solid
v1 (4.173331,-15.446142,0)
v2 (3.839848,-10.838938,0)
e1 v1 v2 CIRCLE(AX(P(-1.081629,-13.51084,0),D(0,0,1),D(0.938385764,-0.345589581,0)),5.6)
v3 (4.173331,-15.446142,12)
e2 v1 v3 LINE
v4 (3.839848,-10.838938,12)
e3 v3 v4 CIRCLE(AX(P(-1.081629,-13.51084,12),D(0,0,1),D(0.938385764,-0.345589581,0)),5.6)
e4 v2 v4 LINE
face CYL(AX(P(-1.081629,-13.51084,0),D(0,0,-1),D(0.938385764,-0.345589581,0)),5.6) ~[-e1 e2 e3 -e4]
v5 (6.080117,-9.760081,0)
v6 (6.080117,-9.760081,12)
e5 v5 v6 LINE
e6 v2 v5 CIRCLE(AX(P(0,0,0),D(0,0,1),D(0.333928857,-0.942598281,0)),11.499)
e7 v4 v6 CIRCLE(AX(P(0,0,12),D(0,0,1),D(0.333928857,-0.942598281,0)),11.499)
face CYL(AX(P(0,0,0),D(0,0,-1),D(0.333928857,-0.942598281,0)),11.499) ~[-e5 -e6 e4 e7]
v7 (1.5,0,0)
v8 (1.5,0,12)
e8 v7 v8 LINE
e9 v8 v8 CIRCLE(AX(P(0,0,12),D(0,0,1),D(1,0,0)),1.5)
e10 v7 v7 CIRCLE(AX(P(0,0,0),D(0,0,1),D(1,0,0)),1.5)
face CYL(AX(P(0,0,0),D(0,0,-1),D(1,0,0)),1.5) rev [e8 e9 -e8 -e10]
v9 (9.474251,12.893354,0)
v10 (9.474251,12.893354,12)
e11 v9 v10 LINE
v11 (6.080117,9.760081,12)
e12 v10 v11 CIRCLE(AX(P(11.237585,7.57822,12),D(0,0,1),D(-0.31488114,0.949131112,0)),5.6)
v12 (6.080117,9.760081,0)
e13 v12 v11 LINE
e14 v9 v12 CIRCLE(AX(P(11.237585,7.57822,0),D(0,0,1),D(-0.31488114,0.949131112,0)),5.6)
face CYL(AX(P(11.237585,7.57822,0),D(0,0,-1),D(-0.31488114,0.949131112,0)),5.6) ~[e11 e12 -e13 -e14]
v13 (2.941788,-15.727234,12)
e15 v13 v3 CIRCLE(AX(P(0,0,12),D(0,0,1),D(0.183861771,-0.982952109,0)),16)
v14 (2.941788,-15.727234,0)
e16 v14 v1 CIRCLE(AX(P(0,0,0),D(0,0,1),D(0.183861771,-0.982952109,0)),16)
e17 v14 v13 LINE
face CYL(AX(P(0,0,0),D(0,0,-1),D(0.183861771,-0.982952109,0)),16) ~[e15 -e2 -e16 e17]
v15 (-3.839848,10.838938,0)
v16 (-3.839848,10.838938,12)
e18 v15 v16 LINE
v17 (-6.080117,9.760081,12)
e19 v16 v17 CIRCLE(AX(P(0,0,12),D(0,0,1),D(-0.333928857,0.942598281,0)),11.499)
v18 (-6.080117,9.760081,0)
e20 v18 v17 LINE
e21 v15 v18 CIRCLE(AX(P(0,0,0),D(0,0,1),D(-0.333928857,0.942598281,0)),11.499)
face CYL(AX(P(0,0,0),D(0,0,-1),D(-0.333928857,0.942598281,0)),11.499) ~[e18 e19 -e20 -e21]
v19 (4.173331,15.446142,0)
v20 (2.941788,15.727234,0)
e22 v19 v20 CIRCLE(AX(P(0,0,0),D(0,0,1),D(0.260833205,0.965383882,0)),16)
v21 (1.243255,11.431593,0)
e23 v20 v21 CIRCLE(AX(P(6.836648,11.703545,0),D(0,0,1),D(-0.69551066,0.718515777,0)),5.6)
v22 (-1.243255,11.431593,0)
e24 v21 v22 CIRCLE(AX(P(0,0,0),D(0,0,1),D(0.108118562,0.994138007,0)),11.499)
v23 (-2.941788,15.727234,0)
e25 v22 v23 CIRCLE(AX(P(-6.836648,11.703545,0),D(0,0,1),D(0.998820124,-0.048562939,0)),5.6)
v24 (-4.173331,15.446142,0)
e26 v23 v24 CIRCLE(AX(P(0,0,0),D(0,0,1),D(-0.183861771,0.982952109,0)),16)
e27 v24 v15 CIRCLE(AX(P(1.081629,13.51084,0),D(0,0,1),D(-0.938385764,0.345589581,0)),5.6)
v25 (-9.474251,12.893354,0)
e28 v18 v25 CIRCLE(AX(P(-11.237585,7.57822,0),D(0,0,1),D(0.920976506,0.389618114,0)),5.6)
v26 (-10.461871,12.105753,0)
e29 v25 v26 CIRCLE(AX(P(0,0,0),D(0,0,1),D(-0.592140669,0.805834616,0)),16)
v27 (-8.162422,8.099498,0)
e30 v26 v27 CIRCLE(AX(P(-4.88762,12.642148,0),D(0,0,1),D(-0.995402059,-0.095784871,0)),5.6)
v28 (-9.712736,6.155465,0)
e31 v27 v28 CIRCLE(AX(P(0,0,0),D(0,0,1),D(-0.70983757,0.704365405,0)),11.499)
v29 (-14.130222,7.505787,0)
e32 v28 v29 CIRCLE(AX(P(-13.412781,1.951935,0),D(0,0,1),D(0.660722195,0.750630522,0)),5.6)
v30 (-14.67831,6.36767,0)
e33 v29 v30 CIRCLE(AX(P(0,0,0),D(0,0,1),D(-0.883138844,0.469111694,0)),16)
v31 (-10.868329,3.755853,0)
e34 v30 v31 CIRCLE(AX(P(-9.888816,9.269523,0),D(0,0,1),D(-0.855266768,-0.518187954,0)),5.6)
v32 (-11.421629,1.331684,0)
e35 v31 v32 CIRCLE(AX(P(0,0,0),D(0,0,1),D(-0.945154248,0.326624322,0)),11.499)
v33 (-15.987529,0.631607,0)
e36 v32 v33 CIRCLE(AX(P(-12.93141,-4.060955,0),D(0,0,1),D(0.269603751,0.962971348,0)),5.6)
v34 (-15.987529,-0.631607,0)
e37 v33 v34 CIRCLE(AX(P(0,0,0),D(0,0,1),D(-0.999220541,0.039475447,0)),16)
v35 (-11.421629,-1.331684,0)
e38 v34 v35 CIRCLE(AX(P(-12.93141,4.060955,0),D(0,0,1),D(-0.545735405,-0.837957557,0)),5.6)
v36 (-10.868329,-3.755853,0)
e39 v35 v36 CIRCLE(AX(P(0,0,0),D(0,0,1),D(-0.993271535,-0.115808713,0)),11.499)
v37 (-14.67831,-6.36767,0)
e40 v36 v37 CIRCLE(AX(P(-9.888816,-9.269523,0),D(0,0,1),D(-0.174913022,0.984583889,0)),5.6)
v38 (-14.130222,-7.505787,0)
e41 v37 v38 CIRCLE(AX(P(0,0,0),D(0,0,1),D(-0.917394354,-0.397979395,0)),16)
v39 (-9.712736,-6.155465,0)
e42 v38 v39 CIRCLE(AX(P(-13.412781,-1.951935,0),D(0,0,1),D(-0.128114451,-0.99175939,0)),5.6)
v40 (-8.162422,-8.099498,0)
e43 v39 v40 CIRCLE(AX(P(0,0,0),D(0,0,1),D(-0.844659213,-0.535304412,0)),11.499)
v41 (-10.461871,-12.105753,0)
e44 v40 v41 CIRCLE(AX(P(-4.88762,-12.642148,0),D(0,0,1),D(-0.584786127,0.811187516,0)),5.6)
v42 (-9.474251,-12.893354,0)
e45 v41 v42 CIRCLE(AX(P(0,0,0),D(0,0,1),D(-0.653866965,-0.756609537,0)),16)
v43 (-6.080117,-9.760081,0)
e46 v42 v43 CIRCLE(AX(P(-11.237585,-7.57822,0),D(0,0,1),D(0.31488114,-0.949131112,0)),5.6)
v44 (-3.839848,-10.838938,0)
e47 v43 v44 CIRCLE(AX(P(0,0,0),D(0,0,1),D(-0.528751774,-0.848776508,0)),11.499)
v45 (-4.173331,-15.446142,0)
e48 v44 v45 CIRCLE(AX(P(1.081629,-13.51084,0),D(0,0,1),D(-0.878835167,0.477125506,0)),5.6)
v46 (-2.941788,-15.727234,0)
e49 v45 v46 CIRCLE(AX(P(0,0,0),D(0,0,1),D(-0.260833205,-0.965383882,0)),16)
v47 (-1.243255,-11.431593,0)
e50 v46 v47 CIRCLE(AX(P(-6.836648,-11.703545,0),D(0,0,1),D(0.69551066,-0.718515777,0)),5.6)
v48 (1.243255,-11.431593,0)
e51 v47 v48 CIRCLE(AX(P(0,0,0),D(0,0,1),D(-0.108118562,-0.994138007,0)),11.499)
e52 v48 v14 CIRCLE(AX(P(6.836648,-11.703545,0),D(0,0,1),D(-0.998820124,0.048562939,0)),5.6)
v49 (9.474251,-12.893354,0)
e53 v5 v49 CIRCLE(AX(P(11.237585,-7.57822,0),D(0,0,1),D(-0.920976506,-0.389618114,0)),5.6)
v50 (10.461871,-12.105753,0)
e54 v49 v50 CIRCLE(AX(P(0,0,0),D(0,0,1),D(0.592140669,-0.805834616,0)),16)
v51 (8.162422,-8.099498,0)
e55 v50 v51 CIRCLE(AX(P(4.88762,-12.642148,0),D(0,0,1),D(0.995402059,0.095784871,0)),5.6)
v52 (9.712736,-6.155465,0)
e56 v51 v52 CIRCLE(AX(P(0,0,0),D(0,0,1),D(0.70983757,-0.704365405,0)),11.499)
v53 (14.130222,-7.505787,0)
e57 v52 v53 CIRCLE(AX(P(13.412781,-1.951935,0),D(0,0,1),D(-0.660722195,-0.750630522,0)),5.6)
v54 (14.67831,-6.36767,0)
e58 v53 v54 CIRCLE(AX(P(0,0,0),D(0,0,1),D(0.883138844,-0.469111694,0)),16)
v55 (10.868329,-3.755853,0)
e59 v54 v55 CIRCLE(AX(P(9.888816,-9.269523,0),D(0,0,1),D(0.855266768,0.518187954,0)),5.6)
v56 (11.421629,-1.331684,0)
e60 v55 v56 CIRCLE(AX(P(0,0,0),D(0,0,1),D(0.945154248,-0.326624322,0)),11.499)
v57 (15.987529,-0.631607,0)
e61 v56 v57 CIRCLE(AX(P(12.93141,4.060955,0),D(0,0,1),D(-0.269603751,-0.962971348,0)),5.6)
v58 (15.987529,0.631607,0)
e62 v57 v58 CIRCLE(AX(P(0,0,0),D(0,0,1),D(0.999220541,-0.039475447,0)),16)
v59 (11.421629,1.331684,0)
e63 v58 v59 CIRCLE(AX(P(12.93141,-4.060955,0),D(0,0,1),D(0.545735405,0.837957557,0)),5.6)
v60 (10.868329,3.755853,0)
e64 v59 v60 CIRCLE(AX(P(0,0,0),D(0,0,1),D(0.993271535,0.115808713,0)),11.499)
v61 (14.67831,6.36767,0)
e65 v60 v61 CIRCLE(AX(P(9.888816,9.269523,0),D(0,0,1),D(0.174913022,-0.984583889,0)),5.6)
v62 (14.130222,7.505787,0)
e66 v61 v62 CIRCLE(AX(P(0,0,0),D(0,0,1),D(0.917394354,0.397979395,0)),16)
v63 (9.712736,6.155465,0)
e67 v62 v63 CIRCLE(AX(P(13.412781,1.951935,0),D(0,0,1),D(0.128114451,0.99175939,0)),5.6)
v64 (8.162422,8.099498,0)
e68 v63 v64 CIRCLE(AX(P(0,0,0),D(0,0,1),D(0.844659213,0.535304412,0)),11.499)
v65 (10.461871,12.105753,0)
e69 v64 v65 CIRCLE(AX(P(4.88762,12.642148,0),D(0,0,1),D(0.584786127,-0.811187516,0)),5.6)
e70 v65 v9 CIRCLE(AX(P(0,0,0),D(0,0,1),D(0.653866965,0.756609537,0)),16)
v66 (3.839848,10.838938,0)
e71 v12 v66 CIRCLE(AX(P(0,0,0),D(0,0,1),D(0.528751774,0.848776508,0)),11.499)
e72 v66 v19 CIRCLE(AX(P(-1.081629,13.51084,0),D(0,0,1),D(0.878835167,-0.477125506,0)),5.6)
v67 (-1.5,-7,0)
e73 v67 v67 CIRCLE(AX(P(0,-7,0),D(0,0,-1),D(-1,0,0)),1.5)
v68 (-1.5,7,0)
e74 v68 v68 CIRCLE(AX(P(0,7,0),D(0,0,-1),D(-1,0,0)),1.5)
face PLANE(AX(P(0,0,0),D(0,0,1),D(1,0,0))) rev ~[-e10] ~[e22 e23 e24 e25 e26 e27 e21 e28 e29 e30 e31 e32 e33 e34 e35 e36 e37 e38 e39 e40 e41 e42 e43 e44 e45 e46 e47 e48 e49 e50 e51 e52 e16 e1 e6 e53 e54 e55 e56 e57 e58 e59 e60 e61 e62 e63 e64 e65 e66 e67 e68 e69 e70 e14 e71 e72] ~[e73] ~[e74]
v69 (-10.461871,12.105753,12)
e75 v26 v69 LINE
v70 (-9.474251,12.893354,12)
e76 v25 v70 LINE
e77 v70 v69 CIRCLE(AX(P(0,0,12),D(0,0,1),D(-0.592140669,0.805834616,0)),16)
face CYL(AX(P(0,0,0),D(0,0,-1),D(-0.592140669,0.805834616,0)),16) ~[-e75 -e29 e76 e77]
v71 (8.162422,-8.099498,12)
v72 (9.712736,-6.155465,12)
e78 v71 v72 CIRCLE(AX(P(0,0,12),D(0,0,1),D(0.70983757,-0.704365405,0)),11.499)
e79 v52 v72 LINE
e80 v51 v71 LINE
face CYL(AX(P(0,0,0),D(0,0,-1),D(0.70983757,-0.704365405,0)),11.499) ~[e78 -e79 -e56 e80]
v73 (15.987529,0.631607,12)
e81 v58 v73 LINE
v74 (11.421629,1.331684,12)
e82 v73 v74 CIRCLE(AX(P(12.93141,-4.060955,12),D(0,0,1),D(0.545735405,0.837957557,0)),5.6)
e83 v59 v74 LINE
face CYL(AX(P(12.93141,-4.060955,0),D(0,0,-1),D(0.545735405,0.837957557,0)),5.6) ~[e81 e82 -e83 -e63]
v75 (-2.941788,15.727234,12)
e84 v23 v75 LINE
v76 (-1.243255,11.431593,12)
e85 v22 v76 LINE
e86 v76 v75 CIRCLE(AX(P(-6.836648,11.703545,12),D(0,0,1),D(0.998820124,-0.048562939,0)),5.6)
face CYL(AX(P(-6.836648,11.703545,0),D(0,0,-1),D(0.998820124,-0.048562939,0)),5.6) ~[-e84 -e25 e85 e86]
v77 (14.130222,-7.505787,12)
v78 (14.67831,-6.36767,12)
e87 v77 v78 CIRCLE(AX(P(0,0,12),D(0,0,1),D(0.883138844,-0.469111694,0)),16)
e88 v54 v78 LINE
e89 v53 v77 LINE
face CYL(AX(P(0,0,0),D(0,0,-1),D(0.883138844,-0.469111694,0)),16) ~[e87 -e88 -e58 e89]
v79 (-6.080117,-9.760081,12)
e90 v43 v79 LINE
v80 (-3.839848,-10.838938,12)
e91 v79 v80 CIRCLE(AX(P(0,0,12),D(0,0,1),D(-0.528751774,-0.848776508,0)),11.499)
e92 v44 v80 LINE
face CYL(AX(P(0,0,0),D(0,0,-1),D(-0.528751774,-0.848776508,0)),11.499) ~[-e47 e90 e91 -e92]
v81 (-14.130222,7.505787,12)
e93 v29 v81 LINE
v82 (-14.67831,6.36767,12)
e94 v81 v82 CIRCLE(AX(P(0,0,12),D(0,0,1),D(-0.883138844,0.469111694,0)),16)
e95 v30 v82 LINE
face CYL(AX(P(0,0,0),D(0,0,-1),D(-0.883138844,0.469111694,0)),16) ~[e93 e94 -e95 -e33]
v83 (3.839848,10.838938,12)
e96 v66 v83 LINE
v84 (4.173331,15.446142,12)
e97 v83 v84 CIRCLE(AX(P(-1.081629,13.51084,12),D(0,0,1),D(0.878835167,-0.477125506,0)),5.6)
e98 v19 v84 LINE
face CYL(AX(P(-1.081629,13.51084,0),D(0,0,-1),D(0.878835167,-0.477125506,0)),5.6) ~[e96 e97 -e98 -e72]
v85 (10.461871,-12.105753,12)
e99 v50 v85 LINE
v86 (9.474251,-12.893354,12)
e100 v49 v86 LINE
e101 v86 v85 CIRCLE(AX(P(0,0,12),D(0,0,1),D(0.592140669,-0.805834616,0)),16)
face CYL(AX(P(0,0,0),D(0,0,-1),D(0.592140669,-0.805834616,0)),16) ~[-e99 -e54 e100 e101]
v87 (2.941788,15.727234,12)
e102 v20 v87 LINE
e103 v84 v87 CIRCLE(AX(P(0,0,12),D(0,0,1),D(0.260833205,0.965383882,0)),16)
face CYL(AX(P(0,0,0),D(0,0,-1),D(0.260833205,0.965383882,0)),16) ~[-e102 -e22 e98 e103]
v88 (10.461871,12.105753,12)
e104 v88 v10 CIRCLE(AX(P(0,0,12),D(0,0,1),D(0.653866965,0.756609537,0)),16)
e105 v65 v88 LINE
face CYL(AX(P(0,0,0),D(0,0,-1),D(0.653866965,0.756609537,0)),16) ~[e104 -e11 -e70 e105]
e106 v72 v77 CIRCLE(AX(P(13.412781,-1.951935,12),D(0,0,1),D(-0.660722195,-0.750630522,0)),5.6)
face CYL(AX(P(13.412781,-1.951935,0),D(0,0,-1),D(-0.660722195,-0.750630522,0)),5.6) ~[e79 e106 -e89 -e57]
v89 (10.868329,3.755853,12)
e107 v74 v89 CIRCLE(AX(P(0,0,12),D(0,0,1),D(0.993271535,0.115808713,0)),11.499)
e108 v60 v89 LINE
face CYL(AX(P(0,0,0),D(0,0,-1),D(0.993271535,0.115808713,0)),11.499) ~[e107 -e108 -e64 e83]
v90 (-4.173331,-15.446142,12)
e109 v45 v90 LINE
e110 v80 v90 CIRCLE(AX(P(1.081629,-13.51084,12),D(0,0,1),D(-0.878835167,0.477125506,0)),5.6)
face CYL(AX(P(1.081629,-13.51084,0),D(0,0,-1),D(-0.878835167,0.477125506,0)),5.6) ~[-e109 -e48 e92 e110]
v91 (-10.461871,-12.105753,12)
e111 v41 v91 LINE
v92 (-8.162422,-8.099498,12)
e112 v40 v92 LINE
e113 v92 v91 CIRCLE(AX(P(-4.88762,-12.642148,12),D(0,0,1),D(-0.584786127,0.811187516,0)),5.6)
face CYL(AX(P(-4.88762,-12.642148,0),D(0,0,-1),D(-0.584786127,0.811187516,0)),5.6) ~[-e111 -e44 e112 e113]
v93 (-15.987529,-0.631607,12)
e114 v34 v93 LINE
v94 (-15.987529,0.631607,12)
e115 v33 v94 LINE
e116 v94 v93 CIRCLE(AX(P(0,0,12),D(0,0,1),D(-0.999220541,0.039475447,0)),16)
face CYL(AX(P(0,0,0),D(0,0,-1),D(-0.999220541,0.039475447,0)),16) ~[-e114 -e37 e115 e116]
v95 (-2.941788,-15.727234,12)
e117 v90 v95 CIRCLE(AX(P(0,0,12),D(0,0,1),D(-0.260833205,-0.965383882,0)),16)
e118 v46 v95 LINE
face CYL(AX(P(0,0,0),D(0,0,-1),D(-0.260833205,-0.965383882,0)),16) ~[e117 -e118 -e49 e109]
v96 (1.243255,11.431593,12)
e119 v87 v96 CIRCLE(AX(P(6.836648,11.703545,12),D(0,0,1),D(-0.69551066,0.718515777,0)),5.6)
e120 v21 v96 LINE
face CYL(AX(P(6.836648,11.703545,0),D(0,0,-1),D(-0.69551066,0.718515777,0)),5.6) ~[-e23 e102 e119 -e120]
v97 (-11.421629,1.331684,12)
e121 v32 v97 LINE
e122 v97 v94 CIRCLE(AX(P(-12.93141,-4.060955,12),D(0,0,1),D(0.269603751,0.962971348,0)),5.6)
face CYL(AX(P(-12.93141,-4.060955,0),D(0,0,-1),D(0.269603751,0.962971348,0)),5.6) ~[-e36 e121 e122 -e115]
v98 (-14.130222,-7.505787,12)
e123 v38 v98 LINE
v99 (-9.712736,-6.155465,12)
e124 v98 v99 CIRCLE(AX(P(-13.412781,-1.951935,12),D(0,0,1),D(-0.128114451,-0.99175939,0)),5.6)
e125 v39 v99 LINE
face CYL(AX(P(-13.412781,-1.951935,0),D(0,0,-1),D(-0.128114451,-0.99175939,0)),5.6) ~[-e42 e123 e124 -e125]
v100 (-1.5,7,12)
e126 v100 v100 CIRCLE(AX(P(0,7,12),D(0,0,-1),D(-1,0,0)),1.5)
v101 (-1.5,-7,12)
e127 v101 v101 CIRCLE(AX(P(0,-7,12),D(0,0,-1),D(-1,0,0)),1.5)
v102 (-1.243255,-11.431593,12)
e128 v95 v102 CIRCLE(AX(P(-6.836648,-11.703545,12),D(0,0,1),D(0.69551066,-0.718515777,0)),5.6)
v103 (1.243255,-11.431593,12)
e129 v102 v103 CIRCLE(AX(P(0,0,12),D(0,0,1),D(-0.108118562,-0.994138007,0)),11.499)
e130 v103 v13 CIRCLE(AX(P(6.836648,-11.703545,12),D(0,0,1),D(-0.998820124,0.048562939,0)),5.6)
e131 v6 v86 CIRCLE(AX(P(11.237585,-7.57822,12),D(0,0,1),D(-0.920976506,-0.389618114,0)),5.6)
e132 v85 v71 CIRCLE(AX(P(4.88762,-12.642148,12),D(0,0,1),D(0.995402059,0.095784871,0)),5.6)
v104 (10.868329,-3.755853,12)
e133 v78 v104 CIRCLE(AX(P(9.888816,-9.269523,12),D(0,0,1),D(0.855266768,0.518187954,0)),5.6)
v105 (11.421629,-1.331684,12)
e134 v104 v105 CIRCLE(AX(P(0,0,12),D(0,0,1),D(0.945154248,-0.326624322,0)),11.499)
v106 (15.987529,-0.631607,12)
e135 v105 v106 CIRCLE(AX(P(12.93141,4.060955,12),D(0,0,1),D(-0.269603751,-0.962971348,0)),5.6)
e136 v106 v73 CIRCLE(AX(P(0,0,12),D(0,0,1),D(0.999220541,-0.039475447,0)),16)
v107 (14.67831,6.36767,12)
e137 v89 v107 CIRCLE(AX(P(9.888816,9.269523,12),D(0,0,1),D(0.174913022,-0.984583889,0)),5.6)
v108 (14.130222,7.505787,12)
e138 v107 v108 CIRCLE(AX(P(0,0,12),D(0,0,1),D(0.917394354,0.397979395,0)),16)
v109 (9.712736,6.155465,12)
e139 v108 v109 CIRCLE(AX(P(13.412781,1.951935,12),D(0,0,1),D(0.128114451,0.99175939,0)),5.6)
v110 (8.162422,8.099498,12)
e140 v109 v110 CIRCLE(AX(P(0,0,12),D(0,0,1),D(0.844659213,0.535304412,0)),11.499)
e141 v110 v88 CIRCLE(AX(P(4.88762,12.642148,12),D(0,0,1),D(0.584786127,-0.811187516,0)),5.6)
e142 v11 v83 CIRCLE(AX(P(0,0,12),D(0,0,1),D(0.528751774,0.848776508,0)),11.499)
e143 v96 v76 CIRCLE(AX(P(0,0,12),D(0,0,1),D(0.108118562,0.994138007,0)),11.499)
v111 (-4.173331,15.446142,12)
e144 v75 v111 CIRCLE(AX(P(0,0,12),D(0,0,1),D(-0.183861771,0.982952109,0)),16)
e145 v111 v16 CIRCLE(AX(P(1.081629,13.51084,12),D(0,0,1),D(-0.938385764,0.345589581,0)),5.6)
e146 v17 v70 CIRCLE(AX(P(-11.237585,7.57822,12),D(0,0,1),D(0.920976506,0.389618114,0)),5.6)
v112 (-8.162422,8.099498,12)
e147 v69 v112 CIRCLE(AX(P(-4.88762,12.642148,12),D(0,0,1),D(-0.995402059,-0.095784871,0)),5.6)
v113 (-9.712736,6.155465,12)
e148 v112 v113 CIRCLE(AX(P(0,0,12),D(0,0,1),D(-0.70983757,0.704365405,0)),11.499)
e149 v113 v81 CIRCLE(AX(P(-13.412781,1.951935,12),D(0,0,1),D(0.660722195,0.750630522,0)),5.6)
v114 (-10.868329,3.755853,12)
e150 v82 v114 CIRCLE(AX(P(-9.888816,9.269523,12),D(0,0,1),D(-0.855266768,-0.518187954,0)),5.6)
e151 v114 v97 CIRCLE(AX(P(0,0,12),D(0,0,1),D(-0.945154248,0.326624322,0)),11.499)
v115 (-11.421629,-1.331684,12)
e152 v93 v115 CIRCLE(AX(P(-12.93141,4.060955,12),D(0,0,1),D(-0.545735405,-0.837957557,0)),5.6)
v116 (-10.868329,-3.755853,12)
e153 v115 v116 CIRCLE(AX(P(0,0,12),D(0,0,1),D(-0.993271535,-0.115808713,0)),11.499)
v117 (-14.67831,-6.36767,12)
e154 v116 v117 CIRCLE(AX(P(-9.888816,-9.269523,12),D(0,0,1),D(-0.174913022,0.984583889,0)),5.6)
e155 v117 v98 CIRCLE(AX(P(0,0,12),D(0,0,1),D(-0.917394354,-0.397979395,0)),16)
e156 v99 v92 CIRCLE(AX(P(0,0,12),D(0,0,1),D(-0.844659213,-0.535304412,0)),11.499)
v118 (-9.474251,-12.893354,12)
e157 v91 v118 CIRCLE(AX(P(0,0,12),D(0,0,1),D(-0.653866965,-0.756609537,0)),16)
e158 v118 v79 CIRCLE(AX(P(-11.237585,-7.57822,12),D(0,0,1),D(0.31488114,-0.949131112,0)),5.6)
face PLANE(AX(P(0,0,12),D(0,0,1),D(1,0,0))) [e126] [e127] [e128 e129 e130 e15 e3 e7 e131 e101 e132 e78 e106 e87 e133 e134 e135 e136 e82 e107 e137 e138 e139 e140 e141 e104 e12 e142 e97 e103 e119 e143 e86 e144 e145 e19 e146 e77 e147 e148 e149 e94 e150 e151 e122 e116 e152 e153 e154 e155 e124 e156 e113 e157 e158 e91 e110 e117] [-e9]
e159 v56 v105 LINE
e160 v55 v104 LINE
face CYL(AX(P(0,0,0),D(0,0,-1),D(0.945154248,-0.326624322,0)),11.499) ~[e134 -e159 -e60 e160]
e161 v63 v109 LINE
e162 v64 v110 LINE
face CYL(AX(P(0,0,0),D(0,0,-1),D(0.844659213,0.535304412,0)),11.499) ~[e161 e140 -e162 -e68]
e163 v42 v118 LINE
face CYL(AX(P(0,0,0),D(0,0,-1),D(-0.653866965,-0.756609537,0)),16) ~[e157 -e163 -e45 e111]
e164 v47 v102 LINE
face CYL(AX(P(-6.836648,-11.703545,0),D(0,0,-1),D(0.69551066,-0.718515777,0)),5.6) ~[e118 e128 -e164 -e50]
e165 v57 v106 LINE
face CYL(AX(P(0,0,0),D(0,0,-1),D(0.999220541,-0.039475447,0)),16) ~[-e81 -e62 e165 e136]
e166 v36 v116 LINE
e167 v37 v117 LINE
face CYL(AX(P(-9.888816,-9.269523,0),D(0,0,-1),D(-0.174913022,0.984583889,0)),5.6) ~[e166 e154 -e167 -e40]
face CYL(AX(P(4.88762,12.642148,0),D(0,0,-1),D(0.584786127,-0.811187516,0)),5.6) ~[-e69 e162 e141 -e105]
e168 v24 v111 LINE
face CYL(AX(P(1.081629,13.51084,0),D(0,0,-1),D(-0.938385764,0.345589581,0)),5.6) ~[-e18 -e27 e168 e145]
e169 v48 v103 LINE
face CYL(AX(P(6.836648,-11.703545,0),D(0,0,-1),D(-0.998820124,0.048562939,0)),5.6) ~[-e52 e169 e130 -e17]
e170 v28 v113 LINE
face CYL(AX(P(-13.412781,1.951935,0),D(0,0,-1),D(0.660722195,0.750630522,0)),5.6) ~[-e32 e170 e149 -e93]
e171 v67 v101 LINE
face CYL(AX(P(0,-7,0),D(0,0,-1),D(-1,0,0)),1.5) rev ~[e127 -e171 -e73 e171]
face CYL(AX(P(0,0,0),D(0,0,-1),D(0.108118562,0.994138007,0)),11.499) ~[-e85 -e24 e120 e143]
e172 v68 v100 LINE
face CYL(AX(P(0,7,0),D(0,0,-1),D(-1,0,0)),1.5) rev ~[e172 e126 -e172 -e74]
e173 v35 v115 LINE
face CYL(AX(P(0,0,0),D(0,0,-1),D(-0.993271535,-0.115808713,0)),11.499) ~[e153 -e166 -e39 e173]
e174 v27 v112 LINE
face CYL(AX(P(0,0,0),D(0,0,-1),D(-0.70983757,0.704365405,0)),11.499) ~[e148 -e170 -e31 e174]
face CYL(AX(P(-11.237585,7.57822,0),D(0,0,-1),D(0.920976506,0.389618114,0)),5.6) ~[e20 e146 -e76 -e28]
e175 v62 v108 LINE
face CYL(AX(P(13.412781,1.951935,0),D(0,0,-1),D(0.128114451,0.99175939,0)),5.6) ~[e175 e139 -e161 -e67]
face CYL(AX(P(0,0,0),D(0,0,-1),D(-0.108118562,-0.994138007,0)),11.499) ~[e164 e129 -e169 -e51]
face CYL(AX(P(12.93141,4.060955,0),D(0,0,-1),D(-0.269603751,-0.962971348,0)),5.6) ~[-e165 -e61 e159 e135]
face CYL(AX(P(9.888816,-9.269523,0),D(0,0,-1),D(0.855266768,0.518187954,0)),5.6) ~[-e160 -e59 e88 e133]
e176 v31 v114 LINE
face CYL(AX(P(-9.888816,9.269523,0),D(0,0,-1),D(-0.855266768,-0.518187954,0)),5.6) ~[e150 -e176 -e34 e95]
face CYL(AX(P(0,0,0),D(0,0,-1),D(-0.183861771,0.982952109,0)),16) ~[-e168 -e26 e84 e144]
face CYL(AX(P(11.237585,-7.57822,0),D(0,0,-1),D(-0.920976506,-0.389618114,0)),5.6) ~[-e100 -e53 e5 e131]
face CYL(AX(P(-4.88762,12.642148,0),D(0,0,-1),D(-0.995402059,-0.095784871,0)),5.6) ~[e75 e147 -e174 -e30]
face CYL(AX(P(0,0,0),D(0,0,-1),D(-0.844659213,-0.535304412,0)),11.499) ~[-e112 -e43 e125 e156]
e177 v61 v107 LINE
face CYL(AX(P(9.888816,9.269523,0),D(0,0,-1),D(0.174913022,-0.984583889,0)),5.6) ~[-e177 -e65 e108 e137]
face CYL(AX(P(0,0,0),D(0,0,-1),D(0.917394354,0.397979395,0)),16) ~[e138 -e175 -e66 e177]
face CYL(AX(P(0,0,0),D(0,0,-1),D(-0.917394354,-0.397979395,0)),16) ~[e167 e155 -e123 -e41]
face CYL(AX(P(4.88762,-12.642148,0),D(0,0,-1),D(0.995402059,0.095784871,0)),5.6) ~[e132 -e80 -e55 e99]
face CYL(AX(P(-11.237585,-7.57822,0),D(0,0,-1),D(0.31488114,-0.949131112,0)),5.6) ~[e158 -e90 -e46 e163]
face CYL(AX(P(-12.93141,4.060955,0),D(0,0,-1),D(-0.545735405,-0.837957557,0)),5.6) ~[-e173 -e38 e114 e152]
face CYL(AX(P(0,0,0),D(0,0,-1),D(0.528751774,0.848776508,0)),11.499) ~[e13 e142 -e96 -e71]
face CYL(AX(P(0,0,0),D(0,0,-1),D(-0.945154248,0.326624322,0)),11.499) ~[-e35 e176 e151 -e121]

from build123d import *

# Parameters (mm, degrees)
CROQUIS1_R              = 1.5
SALIENTE_EXTRUIR1_DEPTH = 12
CROQUIS2_R              = 1.5
CORTAR_EXTRUIR1_DEPTH   = 26.442992774


with BuildPart() as part:
    # Croquis1 → Saliente-Extruir1 (new body)
    with BuildSketch(Plane.XY):
        with BuildLine():
            ThreePointArc((-14.13022151, -7.505787105), (-11.775764132, -7.307322196), (-9.712736286, -6.155465444))
            ThreePointArc((-9.712736286, -6.155465444), (-8.990280217, -7.169509232), (-8.162422223, -8.09949779))
            ThreePointArc((-8.162422223, -8.09949779), (-9.744466405, -9.854488979), (-10.461871439, -12.105752599))
            ThreePointArc((-10.461871439, -12.105752599), (-9.97583683, -12.509303719), (-9.474250703, -12.893353854))
            ThreePointArc((-9.474250703, -12.893353854), (-7.439068601, -11.692982379), (-6.080116654, -9.760081069))
            ThreePointArc((-6.080116654, -9.760081069), (-4.989229116, -10.360241012), (-3.839847924, -10.838937629))
            ThreePointArc((-3.839847924, -10.838937629), (-4.50375834, -13.106553299), (-4.173331264, -15.446142112))
            ThreePointArc((-4.173331264, -15.446142112), (-3.560334943, -15.598846595), (-2.94178835, -15.727233746))
            ThreePointArc((-2.94178835, -15.727233746), (-1.6289743, -13.762703997), (-1.24325535, -11.43159294))
            ThreePointArc((-1.24325535, -11.43159294), (0, -11.499), (1.24325535, -11.43159294))
            ThreePointArc((1.24325535, -11.43159294), (1.6289743, -13.762703997), (2.94178835, -15.727233746))
            ThreePointArc((2.94178835, -15.727233746), (3.560334943, -15.598846595), (4.173331264, -15.446142112))
            ThreePointArc((4.173331264, -15.446142112), (4.50375834, -13.106553299), (3.839847924, -10.838937629))
            ThreePointArc((3.839847924, -10.838937629), (4.989229116, -10.360241012), (6.080116654, -9.760081069))
            ThreePointArc((6.080116654, -9.760081069), (7.439068601, -11.692982379), (9.474250703, -12.893353854))
            ThreePointArc((9.474250703, -12.893353854), (9.97583683, -12.509303719), (10.461871439, -12.105752599))
            ThreePointArc((10.461871439, -12.105752599), (9.744466405, -9.854488979), (8.162422223, -8.09949779))
            ThreePointArc((8.162422223, -8.09949779), (8.990280217, -7.169509232), (9.712736286, -6.155465444))
            ThreePointArc((9.712736286, -6.155465444), (11.775764132, -7.307322196), (14.13022151, -7.505787105))
            ThreePointArc((14.13022151, -7.505787105), (14.415501886, -6.942139826), (14.678309669, -6.367670316))
            ThreePointArc((14.678309669, -6.367670316), (13.055163391, -4.65062226), (10.868328696, -3.75585308))
            ThreePointArc((10.868328696, -3.75585308), (11.210696062, -2.55876822), (11.421629379, -1.331684395))
            ThreePointArc((11.421629379, -1.331684395), (13.780125156, -1.474357234), (15.987528652, -0.631607167))
            ThreePointArc((15.987528652, -0.631607167), (16, 0), (15.987528652, 0.631607167))
            ThreePointArc((15.987528652, 0.631607167), (13.780125156, 1.474357234), (11.421629379, 1.331684395))
            ThreePointArc((11.421629379, 1.331684395), (11.210696062, 2.55876822), (10.868328696, 3.75585308))
            ThreePointArc((10.868328696, 3.75585308), (13.055163391, 4.65062226), (14.678309669, 6.367670316))
            ThreePointArc((14.678309669, 6.367670316), (14.415501886, 6.942139826), (14.13022151, 7.505787105))
            ThreePointArc((14.13022151, 7.505787105), (11.775764132, 7.307322196), (9.712736286, 6.155465444))
            ThreePointArc((9.712736286, 6.155465444), (8.990280217, 7.169509232), (8.162422223, 8.09949779))
            ThreePointArc((8.162422223, 8.09949779), (9.744466405, 9.854488979), (10.461871439, 12.105752599))
            ThreePointArc((10.461871439, 12.105752599), (9.97583683, 12.509303719), (9.474250703, 12.893353854))
            ThreePointArc((9.474250703, 12.893353854), (7.439068601, 11.692982379), (6.080116654, 9.760081069))
            ThreePointArc((6.080116654, 9.760081069), (4.989229116, 10.360241012), (3.839847924, 10.838937629))
            ThreePointArc((3.839847924, 10.838937629), (4.50375834, 13.106553299), (4.173331264, 15.446142112))
            ThreePointArc((4.173331264, 15.446142112), (3.560334943, 15.598846595), (2.94178835, 15.727233746))
            ThreePointArc((2.94178835, 15.727233746), (1.6289743, 13.762703997), (1.24325535, 11.43159294))
            ThreePointArc((1.24325535, 11.43159294), (0, 11.499), (-1.24325535, 11.43159294))
            ThreePointArc((-1.24325535, 11.43159294), (-1.6289743, 13.762703997), (-2.94178835, 15.727233746))
            ThreePointArc((-2.94178835, 15.727233746), (-3.560334943, 15.598846595), (-4.173331264, 15.446142112))
            ThreePointArc((-4.173331264, 15.446142112), (-4.50375834, 13.106553299), (-3.839847924, 10.838937629))
            ThreePointArc((-3.839847924, 10.838937629), (-4.989229116, 10.360241012), (-6.080116654, 9.760081069))
            ThreePointArc((-6.080116654, 9.760081069), (-7.439068601, 11.692982379), (-9.474250703, 12.893353854))
            ThreePointArc((-9.474250703, 12.893353854), (-9.97583683, 12.509303719), (-10.461871439, 12.105752599))
            ThreePointArc((-10.461871439, 12.105752599), (-9.744466405, 9.854488979), (-8.162422223, 8.09949779))
            ThreePointArc((-8.162422223, 8.09949779), (-8.990280217, 7.169509232), (-9.712736286, 6.155465444))
            ThreePointArc((-9.712736286, 6.155465444), (-11.775764132, 7.307322196), (-14.13022151, 7.505787105))
            ThreePointArc((-14.13022151, 7.505787105), (-14.415501886, 6.942139826), (-14.678309669, 6.367670316))
            ThreePointArc((-14.678309669, 6.367670316), (-13.055163391, 4.65062226), (-10.868328696, 3.75585308))
            ThreePointArc((-10.868328696, 3.75585308), (-11.210696062, 2.55876822), (-11.421629379, 1.331684395))
            ThreePointArc((-11.421629379, 1.331684395), (-13.780125156, 1.474357234), (-15.987528652, 0.631607167))
            ThreePointArc((-15.987528652, 0.631607167), (-16, 0), (-15.987528652, -0.631607167))
            ThreePointArc((-15.987528652, -0.631607167), (-13.780125156, -1.474357234), (-11.421629379, -1.331684395))
            ThreePointArc((-11.421629379, -1.331684395), (-11.210696062, -2.55876822), (-10.868328696, -3.75585308))
            ThreePointArc((-10.868328696, -3.75585308), (-13.055163391, -4.65062226), (-14.678309669, -6.367670316))
            ThreePointArc((-14.678309669, -6.367670316), (-14.415501886, -6.942139826), (-14.13022151, -7.505787105))
        make_face()
        Circle(CROQUIS1_R, mode=Mode.SUBTRACT)
    extrude(amount=SALIENTE_EXTRUIR1_DEPTH)

    # Croquis2 → Cortar-Extruir1 (cut, through all)
    with BuildSketch(Plane(origin=(0, 0, 0), x_dir=(-1, 0, 0), z_dir=(0, 0, -1))):
        with Locations((0, 7)):
            Circle(CROQUIS2_R)
        with Locations((0, -7)):
            Circle(CROQUIS2_R)
    extrude(amount=-CORTAR_EXTRUIR1_DEPTH, mode=Mode.SUBTRACT)


solid = part.part
